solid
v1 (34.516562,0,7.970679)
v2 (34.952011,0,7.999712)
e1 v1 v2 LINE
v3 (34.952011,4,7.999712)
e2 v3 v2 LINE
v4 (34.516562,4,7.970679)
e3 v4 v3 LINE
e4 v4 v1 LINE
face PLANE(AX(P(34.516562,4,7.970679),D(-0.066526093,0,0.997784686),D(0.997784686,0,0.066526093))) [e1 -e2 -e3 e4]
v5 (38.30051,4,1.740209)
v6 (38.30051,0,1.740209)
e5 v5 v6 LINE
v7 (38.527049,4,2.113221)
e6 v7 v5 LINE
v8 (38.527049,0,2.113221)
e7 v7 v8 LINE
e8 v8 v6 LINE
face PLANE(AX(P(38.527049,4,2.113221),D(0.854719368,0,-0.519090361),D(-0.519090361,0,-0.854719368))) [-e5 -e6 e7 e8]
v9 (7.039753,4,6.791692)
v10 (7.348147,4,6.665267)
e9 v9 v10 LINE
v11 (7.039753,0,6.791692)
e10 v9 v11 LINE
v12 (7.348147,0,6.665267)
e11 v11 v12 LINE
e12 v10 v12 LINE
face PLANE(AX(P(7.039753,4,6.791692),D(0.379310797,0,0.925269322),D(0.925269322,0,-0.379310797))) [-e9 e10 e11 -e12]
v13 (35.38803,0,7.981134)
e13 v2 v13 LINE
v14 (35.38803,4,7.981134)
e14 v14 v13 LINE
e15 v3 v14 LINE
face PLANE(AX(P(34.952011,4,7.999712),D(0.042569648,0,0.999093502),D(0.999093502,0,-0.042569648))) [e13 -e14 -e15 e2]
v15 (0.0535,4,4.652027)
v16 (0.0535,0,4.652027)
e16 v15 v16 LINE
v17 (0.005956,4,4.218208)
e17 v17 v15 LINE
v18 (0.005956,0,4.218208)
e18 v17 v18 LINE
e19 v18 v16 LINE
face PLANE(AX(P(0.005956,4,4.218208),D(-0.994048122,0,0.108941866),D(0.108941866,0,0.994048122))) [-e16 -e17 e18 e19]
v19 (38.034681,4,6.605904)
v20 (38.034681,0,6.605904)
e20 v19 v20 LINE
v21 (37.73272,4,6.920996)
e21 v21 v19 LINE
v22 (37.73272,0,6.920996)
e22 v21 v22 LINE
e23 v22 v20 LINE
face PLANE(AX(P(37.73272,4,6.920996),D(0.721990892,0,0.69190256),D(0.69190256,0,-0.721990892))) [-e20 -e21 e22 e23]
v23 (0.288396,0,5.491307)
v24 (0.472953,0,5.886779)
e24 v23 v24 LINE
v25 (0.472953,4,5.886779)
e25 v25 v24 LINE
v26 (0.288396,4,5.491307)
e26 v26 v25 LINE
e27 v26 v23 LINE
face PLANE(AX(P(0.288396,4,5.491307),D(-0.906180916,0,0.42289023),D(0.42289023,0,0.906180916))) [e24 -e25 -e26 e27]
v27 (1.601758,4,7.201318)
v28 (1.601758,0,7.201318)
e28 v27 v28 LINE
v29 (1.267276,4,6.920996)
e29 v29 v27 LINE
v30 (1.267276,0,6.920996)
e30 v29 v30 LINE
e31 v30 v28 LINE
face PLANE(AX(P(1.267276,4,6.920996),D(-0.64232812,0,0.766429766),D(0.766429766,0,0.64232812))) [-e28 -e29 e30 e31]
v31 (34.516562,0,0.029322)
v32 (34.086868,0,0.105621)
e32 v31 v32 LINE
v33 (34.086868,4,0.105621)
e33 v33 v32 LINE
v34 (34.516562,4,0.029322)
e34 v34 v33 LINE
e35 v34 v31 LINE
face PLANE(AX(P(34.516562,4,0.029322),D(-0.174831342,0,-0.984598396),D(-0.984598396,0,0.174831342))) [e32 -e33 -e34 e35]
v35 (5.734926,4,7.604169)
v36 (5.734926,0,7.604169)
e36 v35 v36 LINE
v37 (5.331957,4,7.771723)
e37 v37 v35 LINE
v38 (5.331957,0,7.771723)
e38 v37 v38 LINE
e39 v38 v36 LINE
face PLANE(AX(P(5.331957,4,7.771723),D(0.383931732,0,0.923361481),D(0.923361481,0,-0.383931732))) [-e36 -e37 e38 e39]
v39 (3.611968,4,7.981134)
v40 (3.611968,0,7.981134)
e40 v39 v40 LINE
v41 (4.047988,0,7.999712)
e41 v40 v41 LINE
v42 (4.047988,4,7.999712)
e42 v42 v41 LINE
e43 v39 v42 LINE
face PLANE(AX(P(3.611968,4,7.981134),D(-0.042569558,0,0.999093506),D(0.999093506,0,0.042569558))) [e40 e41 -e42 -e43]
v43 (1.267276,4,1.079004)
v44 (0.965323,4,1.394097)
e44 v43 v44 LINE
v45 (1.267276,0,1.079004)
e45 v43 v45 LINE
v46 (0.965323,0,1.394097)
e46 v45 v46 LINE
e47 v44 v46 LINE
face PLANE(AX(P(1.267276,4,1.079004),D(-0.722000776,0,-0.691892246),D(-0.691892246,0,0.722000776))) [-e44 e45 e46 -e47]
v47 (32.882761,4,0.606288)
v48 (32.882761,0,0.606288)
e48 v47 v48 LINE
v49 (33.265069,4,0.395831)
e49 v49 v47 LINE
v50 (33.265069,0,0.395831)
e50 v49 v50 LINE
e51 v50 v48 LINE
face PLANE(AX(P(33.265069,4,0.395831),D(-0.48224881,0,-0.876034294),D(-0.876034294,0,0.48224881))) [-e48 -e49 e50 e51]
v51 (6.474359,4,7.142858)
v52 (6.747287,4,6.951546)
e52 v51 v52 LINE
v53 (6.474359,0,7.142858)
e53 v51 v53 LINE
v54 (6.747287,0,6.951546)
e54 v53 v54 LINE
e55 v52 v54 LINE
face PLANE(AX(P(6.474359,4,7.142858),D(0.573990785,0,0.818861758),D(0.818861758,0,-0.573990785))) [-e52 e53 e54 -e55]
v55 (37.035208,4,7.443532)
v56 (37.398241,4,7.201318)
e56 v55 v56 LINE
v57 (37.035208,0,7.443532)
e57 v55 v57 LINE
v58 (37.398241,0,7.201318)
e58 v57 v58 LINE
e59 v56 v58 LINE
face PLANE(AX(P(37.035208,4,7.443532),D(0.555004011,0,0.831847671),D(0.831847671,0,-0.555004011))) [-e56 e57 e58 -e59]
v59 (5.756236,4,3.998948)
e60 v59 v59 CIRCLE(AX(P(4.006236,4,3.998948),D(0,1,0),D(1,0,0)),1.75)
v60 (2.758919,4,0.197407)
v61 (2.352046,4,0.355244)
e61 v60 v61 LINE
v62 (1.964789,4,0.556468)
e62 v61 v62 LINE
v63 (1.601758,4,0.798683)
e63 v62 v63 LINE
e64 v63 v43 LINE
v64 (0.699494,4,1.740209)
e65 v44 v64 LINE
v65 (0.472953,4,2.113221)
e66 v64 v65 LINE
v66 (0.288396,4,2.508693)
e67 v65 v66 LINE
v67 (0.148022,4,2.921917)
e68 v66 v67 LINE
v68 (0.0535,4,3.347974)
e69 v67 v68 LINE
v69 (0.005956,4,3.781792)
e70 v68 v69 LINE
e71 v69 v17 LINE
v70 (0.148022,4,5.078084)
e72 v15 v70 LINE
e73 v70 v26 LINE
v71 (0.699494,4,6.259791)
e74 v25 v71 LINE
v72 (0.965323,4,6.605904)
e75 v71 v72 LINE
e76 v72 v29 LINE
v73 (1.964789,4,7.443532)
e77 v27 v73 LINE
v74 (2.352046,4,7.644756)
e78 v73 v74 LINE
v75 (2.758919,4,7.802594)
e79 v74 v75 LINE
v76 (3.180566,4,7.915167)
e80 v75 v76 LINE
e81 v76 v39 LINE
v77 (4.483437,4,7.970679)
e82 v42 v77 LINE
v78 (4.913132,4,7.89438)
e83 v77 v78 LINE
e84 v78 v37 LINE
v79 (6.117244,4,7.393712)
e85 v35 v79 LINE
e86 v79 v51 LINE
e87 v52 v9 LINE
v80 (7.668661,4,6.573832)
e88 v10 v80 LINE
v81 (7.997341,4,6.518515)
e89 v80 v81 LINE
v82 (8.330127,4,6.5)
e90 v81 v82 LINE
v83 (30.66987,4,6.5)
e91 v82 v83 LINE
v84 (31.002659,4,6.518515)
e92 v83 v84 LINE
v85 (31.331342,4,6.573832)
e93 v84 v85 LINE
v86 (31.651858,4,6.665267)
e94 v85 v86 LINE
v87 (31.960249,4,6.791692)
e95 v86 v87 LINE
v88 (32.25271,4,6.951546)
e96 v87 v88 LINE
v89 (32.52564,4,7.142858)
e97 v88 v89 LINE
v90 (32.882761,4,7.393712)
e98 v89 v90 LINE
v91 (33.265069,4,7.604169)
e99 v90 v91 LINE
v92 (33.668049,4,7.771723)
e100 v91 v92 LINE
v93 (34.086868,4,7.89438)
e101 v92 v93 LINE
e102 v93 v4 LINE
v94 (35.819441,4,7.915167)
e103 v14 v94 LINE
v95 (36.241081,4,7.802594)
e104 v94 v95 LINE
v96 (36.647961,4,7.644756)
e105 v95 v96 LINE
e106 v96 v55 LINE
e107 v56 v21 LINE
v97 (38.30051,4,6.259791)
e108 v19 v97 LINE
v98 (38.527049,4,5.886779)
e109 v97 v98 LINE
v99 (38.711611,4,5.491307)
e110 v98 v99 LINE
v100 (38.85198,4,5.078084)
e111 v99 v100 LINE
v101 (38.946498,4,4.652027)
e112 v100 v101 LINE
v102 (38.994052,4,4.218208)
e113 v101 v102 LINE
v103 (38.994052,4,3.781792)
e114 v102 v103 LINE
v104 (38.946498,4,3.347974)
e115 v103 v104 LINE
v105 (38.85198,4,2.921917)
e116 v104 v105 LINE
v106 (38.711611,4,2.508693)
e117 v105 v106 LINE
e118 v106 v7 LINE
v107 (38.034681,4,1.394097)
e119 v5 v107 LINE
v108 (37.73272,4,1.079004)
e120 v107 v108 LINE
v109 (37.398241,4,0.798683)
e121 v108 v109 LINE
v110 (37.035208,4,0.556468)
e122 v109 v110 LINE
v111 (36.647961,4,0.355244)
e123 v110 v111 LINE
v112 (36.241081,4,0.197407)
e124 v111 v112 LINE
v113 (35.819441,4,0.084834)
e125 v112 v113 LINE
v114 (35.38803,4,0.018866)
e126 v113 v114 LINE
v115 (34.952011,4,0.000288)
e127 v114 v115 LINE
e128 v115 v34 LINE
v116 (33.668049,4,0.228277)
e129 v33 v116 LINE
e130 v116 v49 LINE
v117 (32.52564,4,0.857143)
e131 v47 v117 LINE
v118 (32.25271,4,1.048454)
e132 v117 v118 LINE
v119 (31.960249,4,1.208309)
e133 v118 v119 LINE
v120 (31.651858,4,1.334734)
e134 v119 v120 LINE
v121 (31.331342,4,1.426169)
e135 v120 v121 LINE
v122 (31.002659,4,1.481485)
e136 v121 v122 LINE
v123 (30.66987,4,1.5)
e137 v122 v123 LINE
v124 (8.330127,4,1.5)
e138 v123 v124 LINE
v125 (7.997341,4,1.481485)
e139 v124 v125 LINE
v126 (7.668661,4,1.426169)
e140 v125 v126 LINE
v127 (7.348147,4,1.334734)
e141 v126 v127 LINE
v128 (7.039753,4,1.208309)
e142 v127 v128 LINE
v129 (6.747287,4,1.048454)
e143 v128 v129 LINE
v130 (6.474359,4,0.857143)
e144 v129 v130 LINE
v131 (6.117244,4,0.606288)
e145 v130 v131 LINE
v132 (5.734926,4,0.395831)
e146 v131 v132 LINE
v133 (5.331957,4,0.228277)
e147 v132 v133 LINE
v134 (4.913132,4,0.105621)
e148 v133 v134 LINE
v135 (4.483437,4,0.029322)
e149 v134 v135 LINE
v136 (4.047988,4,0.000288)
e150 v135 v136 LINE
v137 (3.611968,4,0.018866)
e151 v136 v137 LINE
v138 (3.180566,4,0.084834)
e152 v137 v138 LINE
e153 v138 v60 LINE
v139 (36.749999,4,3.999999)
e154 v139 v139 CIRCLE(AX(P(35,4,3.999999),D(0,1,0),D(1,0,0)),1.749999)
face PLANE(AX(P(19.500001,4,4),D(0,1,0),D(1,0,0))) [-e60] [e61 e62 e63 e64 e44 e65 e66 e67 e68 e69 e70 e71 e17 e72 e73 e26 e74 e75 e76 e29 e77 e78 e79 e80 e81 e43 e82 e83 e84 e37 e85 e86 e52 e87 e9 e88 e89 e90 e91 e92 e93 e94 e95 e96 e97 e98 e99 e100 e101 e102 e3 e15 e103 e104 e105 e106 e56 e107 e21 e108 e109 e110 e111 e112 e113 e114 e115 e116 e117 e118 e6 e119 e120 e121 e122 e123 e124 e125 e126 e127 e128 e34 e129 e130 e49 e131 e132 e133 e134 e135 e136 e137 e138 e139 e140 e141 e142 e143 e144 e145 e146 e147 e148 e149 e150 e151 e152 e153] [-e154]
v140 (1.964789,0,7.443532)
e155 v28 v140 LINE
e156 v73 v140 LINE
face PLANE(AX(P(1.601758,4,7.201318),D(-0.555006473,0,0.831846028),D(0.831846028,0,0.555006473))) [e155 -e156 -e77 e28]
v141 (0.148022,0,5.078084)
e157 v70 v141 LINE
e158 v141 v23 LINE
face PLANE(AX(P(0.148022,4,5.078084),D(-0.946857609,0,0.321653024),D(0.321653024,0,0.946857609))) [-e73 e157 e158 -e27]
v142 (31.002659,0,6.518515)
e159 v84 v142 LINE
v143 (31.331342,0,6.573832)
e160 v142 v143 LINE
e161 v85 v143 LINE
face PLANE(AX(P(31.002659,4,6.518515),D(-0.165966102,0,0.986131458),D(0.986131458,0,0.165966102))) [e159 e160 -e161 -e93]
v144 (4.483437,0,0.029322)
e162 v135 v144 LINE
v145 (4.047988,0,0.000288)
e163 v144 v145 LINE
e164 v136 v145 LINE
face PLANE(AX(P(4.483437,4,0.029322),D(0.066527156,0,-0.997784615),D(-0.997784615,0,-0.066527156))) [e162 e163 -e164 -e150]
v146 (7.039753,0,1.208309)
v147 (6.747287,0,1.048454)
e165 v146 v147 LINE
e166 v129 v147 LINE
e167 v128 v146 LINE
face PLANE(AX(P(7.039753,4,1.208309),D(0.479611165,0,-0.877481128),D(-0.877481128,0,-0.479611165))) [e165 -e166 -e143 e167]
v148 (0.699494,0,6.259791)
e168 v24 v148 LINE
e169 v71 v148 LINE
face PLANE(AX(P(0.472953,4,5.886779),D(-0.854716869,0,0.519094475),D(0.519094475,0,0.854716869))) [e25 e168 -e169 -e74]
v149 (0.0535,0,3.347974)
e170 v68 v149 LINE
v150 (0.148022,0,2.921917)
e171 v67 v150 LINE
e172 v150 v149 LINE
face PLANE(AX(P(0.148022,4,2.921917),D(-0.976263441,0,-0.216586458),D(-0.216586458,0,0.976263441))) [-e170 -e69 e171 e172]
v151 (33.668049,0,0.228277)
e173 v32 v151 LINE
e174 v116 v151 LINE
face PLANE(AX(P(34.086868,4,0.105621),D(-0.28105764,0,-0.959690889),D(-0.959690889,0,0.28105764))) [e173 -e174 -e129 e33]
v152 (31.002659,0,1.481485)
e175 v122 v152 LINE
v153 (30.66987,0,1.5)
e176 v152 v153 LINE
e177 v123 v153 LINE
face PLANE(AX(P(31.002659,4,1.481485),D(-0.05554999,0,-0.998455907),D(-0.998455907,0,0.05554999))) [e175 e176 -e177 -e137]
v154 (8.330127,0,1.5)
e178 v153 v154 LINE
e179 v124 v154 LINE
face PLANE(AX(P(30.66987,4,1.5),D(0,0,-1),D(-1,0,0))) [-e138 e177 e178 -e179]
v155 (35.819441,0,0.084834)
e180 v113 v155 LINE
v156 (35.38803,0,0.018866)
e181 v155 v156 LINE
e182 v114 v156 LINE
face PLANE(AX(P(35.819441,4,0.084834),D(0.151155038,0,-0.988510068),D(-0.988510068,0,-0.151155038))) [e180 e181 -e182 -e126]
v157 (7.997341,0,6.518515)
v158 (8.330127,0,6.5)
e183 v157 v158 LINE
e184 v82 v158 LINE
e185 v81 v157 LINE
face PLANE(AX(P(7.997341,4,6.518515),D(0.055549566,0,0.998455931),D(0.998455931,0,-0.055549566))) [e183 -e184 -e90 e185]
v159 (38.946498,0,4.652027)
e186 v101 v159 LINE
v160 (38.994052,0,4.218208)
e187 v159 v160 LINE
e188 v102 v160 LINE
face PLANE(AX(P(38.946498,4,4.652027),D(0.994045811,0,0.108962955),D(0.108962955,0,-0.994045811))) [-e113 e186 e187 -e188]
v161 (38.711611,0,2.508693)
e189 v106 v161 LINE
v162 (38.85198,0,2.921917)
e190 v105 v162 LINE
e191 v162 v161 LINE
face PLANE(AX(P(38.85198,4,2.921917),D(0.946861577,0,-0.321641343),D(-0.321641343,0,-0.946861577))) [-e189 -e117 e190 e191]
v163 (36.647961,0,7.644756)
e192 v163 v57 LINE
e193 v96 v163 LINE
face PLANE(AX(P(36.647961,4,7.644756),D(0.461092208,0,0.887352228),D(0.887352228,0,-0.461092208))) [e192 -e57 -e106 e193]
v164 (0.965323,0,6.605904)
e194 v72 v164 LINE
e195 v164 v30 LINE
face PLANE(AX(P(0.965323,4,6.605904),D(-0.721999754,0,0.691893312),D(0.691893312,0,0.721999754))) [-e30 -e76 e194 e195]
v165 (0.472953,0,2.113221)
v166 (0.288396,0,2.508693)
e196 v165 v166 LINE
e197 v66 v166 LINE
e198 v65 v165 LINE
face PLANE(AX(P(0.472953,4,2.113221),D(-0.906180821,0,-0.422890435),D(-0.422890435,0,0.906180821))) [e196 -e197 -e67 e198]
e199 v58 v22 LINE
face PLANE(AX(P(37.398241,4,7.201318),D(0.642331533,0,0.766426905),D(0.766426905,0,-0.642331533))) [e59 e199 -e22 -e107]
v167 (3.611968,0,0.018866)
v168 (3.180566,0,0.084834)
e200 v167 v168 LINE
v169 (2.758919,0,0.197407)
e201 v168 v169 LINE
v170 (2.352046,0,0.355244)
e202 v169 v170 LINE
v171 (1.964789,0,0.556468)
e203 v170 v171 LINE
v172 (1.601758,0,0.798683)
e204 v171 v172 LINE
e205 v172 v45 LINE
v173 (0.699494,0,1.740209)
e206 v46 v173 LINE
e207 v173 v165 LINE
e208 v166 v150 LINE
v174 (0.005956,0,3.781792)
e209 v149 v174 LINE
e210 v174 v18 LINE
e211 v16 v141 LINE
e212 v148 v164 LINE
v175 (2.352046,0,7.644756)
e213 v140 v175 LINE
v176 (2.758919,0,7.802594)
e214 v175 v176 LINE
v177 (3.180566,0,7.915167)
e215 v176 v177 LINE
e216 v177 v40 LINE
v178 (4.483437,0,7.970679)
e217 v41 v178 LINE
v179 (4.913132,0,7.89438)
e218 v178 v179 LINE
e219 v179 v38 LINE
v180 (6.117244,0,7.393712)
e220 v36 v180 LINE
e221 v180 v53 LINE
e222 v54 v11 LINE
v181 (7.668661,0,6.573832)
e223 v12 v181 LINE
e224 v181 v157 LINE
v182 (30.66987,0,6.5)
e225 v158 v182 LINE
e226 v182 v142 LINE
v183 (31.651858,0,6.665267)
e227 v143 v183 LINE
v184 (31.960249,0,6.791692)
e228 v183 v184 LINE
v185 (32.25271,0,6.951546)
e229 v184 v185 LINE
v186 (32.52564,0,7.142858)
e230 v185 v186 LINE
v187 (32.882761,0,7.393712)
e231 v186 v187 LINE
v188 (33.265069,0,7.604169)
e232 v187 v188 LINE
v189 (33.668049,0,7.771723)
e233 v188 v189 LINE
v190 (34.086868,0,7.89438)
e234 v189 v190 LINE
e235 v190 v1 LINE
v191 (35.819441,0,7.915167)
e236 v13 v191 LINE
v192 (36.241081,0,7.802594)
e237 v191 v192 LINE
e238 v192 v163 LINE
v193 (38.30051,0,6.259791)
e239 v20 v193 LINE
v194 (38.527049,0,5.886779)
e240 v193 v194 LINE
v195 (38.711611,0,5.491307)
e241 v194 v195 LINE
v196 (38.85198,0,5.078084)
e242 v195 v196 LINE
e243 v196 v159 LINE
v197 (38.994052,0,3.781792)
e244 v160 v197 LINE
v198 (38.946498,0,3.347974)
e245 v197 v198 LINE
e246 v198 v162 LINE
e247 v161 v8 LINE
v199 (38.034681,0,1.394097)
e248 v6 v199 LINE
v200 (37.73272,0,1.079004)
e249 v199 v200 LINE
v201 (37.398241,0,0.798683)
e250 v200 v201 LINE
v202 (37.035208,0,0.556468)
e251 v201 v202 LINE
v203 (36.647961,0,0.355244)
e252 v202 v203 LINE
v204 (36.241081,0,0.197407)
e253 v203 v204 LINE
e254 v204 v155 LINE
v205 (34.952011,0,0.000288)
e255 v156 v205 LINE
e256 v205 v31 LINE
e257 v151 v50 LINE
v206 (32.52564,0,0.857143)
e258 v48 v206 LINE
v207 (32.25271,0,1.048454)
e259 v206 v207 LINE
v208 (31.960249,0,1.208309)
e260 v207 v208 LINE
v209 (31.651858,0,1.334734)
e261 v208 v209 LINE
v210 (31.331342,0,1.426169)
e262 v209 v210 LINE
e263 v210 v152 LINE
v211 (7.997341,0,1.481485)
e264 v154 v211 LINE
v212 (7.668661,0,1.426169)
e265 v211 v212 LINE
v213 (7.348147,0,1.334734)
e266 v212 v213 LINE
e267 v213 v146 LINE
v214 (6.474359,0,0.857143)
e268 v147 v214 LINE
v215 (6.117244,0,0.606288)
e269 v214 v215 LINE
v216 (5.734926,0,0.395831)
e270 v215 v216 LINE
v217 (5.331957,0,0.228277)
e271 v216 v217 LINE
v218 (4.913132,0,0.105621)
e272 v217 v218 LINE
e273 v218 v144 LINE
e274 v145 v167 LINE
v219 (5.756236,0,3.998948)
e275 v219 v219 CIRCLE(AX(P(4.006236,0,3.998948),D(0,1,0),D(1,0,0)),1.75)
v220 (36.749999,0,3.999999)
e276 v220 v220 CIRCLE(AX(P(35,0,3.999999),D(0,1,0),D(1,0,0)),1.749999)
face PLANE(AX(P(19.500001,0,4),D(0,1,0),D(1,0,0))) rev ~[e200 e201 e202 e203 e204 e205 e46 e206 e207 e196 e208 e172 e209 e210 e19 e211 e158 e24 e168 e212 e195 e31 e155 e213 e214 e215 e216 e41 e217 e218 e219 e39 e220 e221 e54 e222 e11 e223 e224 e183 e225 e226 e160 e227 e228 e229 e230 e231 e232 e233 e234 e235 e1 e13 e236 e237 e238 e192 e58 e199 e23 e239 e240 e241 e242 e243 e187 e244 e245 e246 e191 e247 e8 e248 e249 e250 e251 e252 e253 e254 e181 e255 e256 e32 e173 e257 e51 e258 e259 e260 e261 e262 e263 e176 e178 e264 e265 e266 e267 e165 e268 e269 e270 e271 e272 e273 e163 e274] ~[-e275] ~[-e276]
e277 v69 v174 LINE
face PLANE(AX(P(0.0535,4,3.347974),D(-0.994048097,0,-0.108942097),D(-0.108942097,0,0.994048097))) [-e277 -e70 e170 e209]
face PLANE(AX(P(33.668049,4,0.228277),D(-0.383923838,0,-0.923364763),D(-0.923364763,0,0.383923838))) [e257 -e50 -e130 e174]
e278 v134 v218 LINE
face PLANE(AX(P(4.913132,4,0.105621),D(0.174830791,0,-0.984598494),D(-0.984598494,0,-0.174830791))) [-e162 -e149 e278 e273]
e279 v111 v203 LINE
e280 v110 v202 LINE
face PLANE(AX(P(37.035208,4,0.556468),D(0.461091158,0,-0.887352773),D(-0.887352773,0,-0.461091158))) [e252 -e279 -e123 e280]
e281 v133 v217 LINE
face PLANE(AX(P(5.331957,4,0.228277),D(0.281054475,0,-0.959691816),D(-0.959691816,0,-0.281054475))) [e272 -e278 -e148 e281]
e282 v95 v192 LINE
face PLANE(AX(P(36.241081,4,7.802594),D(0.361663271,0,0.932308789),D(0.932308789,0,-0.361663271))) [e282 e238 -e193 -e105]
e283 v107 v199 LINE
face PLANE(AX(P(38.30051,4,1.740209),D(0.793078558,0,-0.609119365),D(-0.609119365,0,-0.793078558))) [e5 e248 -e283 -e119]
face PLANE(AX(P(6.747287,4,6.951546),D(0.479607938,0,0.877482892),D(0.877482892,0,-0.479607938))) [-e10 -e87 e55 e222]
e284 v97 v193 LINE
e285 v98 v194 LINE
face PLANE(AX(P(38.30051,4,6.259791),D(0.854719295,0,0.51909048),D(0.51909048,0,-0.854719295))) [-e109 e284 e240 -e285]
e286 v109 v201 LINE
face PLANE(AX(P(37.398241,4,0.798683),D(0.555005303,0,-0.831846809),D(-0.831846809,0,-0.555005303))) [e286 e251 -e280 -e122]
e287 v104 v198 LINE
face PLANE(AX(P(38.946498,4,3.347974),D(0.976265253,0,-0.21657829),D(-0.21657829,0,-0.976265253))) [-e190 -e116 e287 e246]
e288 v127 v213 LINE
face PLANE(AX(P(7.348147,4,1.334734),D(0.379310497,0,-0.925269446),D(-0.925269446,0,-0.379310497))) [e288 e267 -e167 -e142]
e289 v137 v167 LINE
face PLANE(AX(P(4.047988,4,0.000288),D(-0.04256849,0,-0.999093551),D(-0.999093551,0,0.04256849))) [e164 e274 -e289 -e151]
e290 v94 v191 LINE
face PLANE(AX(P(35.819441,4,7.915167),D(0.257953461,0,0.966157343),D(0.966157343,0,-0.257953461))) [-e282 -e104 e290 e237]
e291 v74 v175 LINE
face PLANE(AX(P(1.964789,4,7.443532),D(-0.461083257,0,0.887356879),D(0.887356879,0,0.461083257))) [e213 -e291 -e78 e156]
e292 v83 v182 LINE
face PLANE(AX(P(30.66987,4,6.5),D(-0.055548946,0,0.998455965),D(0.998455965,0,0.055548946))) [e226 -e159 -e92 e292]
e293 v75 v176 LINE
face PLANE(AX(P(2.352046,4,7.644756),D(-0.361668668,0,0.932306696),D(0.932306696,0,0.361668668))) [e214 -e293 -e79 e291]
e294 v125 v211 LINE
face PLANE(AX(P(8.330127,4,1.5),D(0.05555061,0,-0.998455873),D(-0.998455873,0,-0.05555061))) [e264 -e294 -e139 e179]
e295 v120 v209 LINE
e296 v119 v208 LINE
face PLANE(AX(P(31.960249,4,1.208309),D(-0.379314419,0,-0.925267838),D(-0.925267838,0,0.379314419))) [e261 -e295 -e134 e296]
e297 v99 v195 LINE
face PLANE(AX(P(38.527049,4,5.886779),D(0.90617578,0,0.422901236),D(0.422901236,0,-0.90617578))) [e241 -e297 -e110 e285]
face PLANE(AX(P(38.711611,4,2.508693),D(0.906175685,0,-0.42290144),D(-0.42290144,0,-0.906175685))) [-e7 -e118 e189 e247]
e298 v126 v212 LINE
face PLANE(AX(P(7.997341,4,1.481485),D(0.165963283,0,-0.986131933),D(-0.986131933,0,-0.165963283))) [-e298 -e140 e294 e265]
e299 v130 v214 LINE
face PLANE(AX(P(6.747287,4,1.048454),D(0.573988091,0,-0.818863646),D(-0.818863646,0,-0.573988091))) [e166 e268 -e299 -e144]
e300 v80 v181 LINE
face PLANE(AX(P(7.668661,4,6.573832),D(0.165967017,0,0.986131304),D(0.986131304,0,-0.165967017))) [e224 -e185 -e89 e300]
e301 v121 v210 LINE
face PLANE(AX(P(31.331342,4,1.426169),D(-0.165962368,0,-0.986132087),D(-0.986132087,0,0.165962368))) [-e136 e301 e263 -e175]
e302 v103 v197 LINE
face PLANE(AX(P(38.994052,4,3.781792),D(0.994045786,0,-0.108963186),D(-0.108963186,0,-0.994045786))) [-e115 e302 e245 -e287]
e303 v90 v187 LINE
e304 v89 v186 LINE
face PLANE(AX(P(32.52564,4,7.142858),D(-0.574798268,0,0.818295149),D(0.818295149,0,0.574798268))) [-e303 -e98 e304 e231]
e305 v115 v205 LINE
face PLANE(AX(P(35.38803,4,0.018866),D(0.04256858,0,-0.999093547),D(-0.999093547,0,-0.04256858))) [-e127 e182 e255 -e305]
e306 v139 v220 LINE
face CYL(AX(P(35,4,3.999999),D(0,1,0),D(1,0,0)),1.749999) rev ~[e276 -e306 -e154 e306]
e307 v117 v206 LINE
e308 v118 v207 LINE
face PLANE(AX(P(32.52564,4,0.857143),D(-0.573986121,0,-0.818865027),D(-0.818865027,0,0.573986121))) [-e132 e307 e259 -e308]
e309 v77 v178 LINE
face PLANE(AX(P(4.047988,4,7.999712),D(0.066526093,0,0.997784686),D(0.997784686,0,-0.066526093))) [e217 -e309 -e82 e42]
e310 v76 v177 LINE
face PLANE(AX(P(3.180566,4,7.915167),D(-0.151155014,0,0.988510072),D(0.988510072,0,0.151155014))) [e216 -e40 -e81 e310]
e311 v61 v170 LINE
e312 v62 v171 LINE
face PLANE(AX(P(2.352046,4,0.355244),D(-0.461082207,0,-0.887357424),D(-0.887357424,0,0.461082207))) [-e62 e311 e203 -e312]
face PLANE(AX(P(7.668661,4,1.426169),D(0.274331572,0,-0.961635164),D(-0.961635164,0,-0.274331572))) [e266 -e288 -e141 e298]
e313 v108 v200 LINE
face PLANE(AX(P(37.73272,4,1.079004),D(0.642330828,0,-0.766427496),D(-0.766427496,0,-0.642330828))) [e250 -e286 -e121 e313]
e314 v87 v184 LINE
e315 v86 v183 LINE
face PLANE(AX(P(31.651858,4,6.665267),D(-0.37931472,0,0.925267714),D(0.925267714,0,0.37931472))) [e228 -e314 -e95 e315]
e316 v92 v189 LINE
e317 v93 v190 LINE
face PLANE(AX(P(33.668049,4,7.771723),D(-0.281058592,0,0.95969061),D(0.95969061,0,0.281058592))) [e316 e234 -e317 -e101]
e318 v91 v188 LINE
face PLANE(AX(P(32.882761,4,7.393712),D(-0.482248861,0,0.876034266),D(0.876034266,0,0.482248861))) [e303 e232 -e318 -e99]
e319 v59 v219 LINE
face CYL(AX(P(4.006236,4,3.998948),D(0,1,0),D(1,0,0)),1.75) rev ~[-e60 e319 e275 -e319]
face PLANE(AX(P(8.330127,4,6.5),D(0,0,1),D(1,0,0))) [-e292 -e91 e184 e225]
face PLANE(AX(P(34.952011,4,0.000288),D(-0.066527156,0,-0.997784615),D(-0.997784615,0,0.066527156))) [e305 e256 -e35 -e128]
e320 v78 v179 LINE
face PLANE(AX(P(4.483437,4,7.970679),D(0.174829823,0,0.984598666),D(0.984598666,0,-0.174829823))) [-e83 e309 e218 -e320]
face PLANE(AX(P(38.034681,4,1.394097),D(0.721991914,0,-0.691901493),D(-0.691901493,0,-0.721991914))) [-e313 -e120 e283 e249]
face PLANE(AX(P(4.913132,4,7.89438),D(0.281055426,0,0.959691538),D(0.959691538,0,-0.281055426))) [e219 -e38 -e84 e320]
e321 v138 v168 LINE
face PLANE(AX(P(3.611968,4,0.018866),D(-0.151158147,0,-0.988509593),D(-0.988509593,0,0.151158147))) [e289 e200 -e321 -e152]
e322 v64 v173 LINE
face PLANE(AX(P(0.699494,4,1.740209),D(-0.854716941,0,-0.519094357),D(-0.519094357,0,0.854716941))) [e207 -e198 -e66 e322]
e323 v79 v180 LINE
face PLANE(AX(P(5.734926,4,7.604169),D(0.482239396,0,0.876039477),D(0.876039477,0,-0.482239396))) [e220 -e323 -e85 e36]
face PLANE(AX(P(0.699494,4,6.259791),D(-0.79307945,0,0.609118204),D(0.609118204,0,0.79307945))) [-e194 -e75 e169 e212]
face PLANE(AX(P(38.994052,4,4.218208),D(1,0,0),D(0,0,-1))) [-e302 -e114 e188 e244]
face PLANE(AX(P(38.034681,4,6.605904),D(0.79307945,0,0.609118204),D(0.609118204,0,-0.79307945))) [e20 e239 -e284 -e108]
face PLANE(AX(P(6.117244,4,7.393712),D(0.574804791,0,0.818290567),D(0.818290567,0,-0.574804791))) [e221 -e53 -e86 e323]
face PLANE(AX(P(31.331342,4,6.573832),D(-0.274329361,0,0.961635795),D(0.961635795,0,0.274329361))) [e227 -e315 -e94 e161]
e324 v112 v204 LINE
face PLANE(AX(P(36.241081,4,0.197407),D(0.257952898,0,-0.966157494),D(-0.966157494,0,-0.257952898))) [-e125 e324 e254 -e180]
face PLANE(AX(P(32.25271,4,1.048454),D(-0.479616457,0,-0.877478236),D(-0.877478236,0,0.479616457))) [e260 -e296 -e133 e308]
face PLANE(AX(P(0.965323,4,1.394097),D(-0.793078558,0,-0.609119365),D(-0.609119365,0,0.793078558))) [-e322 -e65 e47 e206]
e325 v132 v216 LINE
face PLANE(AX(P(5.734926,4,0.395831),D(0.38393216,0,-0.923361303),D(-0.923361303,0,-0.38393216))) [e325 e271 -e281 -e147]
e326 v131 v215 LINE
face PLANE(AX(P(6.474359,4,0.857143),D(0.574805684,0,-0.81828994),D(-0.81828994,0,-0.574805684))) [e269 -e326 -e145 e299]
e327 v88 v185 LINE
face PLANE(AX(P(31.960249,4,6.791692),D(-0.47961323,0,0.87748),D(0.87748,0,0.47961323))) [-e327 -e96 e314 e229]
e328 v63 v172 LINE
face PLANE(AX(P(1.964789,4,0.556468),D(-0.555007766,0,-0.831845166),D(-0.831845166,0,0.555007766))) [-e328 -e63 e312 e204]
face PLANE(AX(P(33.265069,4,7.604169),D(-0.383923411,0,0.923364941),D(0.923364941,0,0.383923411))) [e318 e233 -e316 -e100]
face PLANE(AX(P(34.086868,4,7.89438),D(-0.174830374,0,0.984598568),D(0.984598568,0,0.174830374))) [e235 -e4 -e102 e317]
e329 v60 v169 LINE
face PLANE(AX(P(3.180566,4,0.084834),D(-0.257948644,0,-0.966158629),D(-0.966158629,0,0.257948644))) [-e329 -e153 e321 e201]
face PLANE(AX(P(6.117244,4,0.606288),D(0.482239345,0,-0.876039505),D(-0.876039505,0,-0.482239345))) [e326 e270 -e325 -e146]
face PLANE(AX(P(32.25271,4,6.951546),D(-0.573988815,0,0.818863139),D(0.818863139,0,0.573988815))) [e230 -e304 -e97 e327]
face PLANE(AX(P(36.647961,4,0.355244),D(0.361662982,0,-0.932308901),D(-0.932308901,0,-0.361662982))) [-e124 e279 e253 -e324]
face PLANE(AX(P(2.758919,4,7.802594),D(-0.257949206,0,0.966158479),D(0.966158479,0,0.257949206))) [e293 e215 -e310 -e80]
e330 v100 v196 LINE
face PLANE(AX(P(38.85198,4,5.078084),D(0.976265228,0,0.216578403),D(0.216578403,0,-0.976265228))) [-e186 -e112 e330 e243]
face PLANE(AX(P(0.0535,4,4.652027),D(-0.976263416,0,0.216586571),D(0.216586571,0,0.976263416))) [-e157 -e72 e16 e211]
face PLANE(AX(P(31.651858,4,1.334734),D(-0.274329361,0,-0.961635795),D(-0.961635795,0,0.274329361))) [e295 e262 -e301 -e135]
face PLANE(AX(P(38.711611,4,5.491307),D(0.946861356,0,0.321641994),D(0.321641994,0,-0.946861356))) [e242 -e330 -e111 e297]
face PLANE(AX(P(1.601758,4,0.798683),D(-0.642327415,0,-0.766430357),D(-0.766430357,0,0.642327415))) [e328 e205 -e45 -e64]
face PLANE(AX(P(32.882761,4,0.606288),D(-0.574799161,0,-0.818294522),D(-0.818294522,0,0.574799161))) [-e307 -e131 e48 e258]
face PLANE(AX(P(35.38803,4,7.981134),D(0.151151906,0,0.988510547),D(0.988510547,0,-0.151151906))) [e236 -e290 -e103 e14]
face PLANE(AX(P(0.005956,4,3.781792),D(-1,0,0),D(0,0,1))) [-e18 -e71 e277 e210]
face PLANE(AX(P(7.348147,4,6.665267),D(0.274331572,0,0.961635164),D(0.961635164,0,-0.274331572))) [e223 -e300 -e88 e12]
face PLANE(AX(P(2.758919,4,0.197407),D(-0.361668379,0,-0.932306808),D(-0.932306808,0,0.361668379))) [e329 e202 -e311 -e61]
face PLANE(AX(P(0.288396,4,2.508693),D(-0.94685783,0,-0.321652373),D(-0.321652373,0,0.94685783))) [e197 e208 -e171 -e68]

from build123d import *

# Parameters (mm, degrees)
SKETCH1_R           = 1.750000093
SKETCH1_R_2         = 1.749998765
BOSS_EXTRUDE1_DEPTH = 4.00000019


with BuildPart() as part:
    # Sketch1 → Boss-Extrude1 (new body)
    with BuildSketch(Plane(origin=(0, 4.00000019, 0), x_dir=(1, 0, 0), z_dir=(0, 1, 0))):
        Polygon((32.525639981, -7.142858114), (32.88276121, -7.393712178), (33.265069127, -7.604169194), (33.66804868, -7.771722972), (34.086868167, -7.894380018), (34.516561776, -7.97067862), (34.952010959, -7.99971167), (35.388030112, -7.981133647), (35.81944108, -7.915167138), (36.241080612, -7.802593987), (36.647960544, -7.644756231), (37.035208195, -7.443531882), (37.39824146, -7.201318163), (37.732720375, -6.920996122), (38.034681231, -6.605904084), (38.300510496, -6.259791087), (38.527049124, -5.886779167), (38.711611181, -5.491307005), (38.85198012, -5.078083836), (38.946498185, -4.652027041), (38.994051516, -4.218208138), (38.994051516, -3.781792009), (38.946498185, -3.347974038), (38.85198012, -2.92191701), (38.711611181, -2.508692909), (38.527049124, -2.11322098), (38.300510496, -1.740208943), (38.034681231, -1.394096995), (37.732720375, -1.079004025), (37.39824146, -0.798682508), (37.035208195, -0.556467974), (36.647960544, -0.355244207), (36.241080612, -0.197406596), (35.81944108, -0.084833708), (35.388030112, -0.0188658), (34.952010959, -0.000288244), (34.516561776, -0.02932176), (34.086868167, -0.105620798), (33.66804868, -0.228277393), (33.265069127, -0.39583139), (32.88276121, -0.606288377), (32.525639981, -0.857143023), (32.252710313, -1.048453967), (31.960248947, -1.208308968), (31.65185824, -1.334734028), (31.331341714, -1.42616895), (31.002659351, -1.481484971), (30.669869855, -1.500000013), (8.330127224, -1.500000013), (7.997341454, -1.481484971), (7.668660954, -1.42616895), (7.348147221, -1.334734028), (7.039752789, -1.208308968), (6.747287232, -1.048453967), (6.474358961, -0.857143023), (6.117243785, -0.606288377), (5.73492609, -0.39583139), (5.331956781, -0.228277393), (4.913132172, -0.105620798), (4.483437166, -0.02932176), (4.047987983, -0.000288244), (3.611967899, -0.0188658), (3.180566011, -0.084833708), (2.758919029, -0.197406596), (2.352046082, -0.355244207), (1.964788884, -0.556467974), (1.601757947, -0.798682508), (1.267276006, -1.079004025), (0.965322892, -1.394096995), (0.699493627, -1.740208943), (0.472952612, -2.11322098), (0.288396404, -2.508692909), (0.148022096, -2.92191701), (0.053500291, -3.347974038), (0.005956274, -3.781792009), (0.005956274, -4.218208138), (0.053500291, -4.652027041), (0.148022096, -5.078083836), (0.288396404, -5.491307005), (0.472952612, -5.886779167), (0.699493627, -6.259791087), (0.965322892, -6.605904084), (1.267276006, -6.920996122), (1.601757947, -7.201318163), (1.964788884, -7.443531882), (2.352046082, -7.644756231), (2.758919029, -7.802593987), (3.180566011, -7.915167138), (3.611967899, -7.981133647), (4.047987983, -7.99971167), (4.483437166, -7.97067862), (4.913132172, -7.894380018), (5.331956781, -7.771722972), (5.73492609, -7.604169194), (6.117243785, -7.393712178), (6.474358961, -7.142858114), (6.747287232, -6.951545831), (7.039752789, -6.791692227), (7.348147221, -6.66526705), (7.668660954, -6.573832128), (7.997341454, -6.518514827), (8.330127224, -6.500000134), (30.669869855, -6.500000134), (31.002659351, -6.518514827), (31.331341714, -6.573832128), (31.65185824, -6.66526705), (31.960248947, -6.791692227), (32.252710313, -6.951545831), align=None)
        with Locations((4.006235525, -3.998948436)):
            Circle(SKETCH1_R, mode=Mode.SUBTRACT)
        with Locations((35.000000078, -3.999998668)):
            Circle(SKETCH1_R_2, mode=Mode.SUBTRACT)
    extrude(amount=-BOSS_EXTRUDE1_DEPTH)


solid = part.part
